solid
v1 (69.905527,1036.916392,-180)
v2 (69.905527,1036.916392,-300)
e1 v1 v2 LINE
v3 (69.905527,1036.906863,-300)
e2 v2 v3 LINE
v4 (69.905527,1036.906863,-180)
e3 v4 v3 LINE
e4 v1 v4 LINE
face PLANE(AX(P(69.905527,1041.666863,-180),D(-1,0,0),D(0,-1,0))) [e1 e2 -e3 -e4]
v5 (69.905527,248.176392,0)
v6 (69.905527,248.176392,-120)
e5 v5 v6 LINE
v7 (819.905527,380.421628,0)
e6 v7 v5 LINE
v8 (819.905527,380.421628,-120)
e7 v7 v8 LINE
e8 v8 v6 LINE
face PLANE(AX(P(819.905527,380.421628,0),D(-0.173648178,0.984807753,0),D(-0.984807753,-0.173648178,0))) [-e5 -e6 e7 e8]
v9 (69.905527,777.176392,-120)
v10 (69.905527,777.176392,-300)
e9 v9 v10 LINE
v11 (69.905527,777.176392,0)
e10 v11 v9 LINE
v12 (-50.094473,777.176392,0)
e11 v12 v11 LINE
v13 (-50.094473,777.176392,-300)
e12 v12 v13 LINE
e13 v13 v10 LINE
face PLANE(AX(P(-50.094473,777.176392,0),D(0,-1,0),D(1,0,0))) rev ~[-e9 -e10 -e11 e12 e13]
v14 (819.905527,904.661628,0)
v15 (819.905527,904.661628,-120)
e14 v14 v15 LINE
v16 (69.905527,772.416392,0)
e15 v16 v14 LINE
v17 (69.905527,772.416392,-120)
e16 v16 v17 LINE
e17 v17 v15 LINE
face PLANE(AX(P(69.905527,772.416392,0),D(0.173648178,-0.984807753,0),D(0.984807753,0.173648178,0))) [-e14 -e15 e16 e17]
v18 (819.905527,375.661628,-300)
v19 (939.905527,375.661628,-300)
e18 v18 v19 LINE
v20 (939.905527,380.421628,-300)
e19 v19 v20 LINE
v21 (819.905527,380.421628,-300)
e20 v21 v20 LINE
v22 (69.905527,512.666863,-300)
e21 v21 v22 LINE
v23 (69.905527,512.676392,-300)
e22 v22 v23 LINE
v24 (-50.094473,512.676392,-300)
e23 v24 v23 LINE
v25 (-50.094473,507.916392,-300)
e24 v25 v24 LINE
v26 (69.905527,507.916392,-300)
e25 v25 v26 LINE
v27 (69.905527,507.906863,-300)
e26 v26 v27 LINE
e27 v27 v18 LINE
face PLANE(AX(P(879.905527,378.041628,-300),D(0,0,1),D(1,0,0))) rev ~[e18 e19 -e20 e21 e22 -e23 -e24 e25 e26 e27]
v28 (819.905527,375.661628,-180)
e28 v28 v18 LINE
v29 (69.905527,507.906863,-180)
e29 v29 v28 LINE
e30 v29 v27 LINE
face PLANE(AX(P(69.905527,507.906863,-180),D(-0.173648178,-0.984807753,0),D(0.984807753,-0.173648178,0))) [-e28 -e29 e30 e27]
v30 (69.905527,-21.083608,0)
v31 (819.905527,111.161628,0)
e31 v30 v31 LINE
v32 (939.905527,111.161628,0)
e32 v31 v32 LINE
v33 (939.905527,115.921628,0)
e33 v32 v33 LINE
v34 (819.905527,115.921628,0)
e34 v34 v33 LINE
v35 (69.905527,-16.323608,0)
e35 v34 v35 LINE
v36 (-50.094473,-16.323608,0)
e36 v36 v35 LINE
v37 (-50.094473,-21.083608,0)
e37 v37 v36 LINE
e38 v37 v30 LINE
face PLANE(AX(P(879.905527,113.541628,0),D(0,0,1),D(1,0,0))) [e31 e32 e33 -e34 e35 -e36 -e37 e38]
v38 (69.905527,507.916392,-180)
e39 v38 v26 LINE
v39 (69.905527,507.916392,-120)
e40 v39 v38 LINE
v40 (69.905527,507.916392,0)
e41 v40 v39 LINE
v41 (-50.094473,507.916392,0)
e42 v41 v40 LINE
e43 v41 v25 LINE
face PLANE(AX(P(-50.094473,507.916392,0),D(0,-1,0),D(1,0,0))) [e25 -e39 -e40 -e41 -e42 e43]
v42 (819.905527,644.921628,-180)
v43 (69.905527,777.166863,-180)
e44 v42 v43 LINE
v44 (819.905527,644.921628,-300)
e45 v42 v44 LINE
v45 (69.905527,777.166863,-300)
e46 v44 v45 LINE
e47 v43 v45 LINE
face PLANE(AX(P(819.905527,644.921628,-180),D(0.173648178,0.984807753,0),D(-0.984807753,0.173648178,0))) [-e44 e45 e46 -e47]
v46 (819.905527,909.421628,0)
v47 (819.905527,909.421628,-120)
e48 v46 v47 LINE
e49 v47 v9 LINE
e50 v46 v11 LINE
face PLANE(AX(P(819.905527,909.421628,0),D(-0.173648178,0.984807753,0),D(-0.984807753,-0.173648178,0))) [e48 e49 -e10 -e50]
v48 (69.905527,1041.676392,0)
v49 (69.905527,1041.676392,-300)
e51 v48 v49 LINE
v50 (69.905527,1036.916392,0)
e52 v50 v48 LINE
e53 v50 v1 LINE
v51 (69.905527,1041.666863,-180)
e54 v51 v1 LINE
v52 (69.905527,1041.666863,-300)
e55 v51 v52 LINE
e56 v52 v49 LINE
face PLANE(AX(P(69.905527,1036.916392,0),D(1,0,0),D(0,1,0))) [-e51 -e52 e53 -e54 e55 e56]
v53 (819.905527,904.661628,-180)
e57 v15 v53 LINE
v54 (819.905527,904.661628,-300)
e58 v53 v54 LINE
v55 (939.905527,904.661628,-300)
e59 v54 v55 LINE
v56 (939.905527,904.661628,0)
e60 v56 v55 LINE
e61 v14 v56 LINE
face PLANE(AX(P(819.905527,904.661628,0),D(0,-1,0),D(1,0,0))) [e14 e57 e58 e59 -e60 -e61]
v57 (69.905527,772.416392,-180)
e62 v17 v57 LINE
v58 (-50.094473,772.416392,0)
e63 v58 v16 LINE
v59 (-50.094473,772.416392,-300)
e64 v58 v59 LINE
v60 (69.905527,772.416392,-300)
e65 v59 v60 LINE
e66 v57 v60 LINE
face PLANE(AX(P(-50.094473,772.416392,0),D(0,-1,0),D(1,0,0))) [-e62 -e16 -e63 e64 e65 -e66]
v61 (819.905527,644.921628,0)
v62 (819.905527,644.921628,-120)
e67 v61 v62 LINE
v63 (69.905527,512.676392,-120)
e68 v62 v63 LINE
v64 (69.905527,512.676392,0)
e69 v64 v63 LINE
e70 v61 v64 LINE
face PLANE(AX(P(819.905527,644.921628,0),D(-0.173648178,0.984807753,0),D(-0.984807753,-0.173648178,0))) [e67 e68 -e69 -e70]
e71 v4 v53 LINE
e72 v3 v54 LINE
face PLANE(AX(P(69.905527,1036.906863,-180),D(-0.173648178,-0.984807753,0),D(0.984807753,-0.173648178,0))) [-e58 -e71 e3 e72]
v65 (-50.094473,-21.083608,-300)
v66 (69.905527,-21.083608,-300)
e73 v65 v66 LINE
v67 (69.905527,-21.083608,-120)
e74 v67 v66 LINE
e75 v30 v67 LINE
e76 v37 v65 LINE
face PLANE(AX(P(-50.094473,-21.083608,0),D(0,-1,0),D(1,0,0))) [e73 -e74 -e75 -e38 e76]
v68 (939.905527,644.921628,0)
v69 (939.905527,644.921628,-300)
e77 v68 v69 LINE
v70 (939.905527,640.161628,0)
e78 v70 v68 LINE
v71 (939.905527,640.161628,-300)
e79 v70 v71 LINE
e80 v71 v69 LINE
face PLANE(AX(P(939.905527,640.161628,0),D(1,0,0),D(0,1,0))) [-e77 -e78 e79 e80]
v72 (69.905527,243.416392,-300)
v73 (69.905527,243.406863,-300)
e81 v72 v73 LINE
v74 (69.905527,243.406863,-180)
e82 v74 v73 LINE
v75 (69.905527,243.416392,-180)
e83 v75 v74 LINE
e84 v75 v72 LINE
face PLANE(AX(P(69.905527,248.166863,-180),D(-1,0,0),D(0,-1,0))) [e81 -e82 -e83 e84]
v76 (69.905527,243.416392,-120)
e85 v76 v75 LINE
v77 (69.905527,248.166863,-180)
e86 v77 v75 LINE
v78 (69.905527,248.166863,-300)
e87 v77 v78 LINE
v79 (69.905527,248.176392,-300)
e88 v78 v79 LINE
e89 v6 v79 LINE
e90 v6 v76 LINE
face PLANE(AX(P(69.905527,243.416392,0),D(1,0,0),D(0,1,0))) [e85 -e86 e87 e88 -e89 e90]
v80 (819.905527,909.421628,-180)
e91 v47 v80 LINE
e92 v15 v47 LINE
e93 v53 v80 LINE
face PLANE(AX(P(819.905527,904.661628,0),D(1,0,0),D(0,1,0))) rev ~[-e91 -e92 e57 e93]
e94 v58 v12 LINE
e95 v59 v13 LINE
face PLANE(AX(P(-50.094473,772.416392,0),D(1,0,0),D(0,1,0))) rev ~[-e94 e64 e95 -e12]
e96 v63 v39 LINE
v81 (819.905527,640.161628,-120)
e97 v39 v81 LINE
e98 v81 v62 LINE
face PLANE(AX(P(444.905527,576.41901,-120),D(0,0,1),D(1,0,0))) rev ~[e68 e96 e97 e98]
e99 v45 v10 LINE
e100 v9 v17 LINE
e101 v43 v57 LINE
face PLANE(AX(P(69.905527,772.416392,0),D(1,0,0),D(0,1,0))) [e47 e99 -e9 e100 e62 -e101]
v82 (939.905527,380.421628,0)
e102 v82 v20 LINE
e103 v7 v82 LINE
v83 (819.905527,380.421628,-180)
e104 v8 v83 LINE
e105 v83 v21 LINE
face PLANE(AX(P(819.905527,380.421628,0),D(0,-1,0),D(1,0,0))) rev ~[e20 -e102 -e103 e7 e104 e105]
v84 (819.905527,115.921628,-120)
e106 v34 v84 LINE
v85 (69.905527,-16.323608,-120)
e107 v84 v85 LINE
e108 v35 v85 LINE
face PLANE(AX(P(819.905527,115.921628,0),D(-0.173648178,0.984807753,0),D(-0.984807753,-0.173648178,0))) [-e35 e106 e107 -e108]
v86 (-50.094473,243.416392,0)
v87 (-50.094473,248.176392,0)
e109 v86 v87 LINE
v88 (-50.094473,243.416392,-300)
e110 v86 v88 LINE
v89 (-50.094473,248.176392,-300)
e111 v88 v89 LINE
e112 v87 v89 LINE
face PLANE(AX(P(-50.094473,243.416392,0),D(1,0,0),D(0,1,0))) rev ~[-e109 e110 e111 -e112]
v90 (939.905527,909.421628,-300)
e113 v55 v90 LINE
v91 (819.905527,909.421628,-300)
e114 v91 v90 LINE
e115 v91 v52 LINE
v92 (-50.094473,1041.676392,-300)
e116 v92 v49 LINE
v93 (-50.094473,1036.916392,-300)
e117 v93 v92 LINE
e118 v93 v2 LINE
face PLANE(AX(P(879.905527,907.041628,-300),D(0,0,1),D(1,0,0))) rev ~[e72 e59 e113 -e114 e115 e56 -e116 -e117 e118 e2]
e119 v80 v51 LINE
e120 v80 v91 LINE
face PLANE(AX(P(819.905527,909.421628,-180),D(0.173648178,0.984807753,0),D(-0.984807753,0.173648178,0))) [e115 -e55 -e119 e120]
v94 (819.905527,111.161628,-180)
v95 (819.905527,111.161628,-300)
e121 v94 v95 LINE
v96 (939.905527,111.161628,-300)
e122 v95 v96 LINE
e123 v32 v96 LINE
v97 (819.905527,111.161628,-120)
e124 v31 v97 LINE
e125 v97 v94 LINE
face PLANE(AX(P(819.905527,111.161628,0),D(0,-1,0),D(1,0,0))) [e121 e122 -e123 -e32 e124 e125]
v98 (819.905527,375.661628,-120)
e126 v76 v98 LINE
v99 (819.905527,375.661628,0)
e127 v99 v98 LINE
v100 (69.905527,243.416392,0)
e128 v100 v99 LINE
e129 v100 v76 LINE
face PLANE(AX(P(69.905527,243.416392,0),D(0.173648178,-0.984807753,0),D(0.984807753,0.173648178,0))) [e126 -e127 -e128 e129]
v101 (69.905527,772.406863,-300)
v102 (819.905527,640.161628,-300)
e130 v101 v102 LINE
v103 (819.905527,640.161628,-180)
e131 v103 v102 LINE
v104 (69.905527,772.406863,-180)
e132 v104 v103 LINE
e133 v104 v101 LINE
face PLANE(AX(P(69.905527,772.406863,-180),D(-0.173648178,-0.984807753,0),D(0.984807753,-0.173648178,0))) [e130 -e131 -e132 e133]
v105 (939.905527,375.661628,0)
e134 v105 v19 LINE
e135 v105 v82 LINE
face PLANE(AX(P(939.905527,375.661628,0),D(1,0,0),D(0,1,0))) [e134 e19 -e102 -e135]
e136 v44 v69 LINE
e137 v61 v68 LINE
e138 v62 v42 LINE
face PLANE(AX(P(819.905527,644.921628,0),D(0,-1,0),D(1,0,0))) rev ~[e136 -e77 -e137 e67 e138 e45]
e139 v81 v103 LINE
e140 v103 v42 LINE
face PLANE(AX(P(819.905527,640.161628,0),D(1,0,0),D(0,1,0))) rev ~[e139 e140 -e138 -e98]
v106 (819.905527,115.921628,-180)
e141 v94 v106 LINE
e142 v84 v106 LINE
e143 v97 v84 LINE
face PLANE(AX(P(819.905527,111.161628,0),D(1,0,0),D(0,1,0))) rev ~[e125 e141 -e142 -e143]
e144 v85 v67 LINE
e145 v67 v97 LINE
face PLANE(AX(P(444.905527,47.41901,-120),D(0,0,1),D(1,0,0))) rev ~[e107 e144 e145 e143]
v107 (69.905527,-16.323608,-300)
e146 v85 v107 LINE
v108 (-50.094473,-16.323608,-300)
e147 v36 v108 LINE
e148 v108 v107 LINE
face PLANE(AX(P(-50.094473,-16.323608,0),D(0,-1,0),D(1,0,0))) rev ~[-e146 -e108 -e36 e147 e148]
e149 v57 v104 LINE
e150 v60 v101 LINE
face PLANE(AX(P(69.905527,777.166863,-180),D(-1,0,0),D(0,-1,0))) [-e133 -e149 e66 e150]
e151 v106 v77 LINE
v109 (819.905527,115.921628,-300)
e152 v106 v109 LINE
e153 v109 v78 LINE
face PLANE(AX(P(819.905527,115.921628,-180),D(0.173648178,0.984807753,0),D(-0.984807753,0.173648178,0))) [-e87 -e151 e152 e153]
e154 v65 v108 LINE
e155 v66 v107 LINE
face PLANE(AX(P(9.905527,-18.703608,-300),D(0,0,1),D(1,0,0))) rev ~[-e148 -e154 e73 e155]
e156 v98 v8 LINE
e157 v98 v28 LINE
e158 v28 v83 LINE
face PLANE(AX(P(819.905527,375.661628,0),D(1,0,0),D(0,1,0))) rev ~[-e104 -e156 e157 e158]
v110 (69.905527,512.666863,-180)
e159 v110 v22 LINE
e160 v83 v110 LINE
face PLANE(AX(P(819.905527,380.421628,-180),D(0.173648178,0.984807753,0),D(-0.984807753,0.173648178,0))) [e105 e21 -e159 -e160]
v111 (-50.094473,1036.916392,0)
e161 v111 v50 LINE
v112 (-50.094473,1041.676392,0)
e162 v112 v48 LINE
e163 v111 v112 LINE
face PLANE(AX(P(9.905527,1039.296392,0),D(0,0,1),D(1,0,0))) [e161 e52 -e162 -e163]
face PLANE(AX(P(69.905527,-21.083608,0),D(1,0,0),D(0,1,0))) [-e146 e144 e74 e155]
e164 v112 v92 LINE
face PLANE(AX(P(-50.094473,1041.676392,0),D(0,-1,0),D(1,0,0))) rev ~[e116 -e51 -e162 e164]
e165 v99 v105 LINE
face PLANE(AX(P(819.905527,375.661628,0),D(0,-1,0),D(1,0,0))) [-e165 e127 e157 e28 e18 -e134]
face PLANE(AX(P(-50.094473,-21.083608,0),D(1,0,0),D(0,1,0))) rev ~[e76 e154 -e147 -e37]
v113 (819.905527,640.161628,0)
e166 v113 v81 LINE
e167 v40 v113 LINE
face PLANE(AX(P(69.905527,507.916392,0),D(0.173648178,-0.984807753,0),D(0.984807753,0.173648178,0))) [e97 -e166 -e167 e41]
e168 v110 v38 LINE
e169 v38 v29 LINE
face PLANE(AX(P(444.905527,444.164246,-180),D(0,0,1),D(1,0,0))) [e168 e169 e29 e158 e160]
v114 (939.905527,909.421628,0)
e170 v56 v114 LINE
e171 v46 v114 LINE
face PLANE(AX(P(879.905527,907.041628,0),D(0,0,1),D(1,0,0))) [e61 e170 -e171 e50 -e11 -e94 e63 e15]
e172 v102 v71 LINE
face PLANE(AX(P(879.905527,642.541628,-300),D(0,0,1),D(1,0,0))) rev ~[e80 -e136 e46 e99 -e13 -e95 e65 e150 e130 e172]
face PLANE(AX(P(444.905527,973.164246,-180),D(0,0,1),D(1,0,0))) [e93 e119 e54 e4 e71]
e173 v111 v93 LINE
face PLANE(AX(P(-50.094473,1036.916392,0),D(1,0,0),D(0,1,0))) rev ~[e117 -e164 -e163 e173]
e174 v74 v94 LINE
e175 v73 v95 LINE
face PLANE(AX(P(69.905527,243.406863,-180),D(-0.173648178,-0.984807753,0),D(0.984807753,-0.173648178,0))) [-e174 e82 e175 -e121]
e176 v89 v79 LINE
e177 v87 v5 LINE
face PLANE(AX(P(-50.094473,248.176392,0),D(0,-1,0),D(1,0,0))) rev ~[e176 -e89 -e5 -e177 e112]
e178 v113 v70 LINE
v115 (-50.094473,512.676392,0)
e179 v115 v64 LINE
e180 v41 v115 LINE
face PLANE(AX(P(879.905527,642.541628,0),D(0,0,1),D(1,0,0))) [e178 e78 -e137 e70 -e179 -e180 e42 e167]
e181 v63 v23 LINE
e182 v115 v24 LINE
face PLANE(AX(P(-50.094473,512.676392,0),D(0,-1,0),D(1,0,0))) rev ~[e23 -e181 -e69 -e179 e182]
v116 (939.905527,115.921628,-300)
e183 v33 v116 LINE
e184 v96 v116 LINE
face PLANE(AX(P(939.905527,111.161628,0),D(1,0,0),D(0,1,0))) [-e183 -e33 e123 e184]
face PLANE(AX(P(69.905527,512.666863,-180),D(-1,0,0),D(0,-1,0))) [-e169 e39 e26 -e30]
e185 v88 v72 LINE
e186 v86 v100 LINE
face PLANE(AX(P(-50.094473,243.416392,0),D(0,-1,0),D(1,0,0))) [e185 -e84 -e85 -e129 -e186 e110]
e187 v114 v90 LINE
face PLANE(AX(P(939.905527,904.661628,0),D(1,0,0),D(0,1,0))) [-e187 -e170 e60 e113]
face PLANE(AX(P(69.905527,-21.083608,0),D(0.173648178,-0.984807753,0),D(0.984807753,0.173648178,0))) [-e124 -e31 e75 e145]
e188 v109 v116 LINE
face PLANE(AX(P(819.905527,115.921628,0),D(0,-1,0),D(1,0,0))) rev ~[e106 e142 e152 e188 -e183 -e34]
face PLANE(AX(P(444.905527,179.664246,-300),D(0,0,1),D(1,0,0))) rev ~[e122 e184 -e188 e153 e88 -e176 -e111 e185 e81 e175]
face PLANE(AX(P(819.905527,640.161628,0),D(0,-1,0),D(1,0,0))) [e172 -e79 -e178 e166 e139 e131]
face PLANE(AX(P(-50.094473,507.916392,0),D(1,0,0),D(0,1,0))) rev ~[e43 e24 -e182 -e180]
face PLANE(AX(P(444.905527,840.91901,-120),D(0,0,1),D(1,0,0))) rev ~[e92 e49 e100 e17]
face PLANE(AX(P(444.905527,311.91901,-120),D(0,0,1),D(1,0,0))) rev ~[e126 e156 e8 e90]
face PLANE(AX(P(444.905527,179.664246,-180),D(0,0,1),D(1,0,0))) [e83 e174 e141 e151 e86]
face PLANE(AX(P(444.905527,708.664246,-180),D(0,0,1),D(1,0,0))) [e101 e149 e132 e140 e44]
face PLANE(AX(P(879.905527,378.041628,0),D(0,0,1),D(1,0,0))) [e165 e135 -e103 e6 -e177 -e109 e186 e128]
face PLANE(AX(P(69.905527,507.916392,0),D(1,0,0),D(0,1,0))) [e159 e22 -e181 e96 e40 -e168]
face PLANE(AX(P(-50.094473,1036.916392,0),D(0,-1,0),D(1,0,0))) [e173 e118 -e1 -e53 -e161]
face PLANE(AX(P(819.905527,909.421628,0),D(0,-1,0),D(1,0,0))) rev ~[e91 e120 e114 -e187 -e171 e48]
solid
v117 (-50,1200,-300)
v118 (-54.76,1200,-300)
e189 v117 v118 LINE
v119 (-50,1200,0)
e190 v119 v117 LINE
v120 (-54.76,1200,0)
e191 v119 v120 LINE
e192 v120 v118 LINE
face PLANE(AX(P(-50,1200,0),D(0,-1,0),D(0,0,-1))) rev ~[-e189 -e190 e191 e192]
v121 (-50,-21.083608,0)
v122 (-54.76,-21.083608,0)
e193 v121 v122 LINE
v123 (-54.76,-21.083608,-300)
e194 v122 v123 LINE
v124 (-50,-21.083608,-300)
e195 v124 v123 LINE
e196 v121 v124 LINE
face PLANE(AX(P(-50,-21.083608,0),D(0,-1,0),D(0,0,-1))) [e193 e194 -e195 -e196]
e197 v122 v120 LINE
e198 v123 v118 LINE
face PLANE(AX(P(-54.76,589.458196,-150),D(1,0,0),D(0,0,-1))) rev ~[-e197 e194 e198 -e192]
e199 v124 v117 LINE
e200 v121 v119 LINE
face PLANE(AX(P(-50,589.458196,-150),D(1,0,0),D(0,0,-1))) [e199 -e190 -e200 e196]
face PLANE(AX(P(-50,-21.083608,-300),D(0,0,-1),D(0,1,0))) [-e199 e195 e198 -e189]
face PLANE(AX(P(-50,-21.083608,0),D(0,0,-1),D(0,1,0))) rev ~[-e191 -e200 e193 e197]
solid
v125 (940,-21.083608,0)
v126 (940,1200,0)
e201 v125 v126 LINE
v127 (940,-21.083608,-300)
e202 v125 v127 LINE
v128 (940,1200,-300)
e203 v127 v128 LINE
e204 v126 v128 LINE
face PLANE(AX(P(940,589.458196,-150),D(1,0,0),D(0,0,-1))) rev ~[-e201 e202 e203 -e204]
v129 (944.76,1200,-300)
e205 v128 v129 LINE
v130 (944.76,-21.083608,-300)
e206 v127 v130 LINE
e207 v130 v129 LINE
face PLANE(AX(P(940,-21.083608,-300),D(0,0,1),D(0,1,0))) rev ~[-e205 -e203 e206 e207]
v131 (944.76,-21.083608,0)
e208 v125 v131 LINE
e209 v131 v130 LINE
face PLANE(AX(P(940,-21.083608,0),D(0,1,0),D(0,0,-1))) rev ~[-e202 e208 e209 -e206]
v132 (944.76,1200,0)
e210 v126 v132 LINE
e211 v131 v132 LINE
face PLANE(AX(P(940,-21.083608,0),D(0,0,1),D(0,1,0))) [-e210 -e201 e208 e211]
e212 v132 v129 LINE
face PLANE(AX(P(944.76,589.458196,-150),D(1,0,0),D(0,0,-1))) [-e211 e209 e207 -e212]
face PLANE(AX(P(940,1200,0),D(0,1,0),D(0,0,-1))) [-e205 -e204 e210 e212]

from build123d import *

# Parameters (mm, degrees)
SKETCH4_W             = 120
SKETCH4_H             = 4.76
BOSS_EXTRUDE6_DEPTH   = 300
BOSS_EXTRUDE6_2_DEPTH = 300
BOSS_EXTRUDE6_3_DEPTH = 300
BOSS_EXTRUDE6_4_DEPTH = 300
BOSS_EXTRUDE6_5_DEPTH = 300
BOSS_EXTRUDE6_6_DEPTH = 300
BOSS_EXTRUDE6_7_DEPTH = 300
BOSS_EXTRUDE6_8_DEPTH = 300
BOSS_EXTRUDE6_9_DEPTH = 300
BOSS_EXTRUDE7_DEPTH   = 120
BOSS_EXTRUDE8_START   = -180
BOSS_EXTRUDE8_DEPTH   = 120
BOSS_EXTRUDE10_START  = -50
SKETCH5_W             = 300
SKETCH5_H             = 1221.083607577
BOSS_EXTRUDE10_DEPTH  = 4.76
BOSS_EXTRUDE11_START  = 940
SKETCH5_3_W           = 300
SKETCH5_3_H           = 1221.083607577
BOSS_EXTRUDE11_DEPTH  = 4.76


with BuildPart() as part:
    # Sketch4 → Boss-Extrude6 (new body)
    with BuildSketch(Plane.XY):
        with Locations((9.905526623, -18.703607577)):
            Rectangle(SKETCH4_W, SKETCH4_H)
    extrude(amount=-BOSS_EXTRUDE6_DEPTH)



with BuildPart() as body_2:
    # Sketch4 → Boss-Extrude6 2 (new body)
    with BuildSketch(Plane.XY):
        with Locations((879.905526623, 113.541627954)):
            Rectangle(SKETCH4_W, SKETCH4_H)
    extrude(amount=-BOSS_EXTRUDE6_2_DEPTH)


with BuildPart() as body_3:
    # Sketch4 → Boss-Extrude6 3 (new body)
    with BuildSketch(Plane.XY):
        with Locations((9.905526623, 245.796392423)):
            Rectangle(SKETCH4_W, SKETCH4_H)
    extrude(amount=-BOSS_EXTRUDE6_3_DEPTH)


with BuildPart() as body_4:
    # Sketch4 → Boss-Extrude6 4 (new body)
    with BuildSketch(Plane.XY):
        with Locations((879.905526623, 378.041627954)):
            Rectangle(SKETCH4_W, SKETCH4_H)
    extrude(amount=-BOSS_EXTRUDE6_4_DEPTH)


with BuildPart() as body_5:
    # Sketch4 → Boss-Extrude6 5 (new body)
    with BuildSketch(Plane.XY):
        with Locations((9.905526623, 510.296392423)):
            Rectangle(SKETCH4_W, SKETCH4_H)
    extrude(amount=-BOSS_EXTRUDE6_5_DEPTH)


with BuildPart() as body_6:
    # Sketch4 → Boss-Extrude6 6 (new body)
    with BuildSketch(Plane.XY):
        with Locations((879.905526623, 642.541627954)):
            Rectangle(SKETCH4_W, SKETCH4_H)
    extrude(amount=-BOSS_EXTRUDE6_6_DEPTH)


with BuildPart() as body_7:
    # Sketch4 → Boss-Extrude6 7 (new body)
    with BuildSketch(Plane.XY):
        with Locations((9.905526623, 774.796392423)):
            Rectangle(SKETCH4_W, SKETCH4_H)
    extrude(amount=-BOSS_EXTRUDE6_7_DEPTH)


with BuildPart() as body_8:
    # Sketch4 → Boss-Extrude6 8 (new body)
    with BuildSketch(Plane.XY):
        with Locations((879.905526623, 907.041627954)):
            Rectangle(SKETCH4_W, SKETCH4_H)
    extrude(amount=-BOSS_EXTRUDE6_8_DEPTH)


with BuildPart() as body_9:
    # Sketch4 → Boss-Extrude6 9 (new body)
    with BuildSketch(Plane.XY):
        with Locations((9.905526623, 1039.296392423)):
            Rectangle(SKETCH4_W, SKETCH4_H)
    extrude(amount=-BOSS_EXTRUDE6_9_DEPTH)


with BuildPart() as part_1:
    add(part.part)

    add(body_3.part)  # Boss-Extrude7 merges body 3

    add(body_5.part)  # Boss-Extrude7 merges body 5

    add(body_7.part)  # Boss-Extrude7 merges body 7
    # Sketch4<3> → Boss-Extrude7 (add)
    with BuildSketch(Plane.XY):
        Polygon((69.905526623, -16.323607577), (69.905526623, -21.083607577), (819.905526623, 111.161627954), (819.905526623, 115.921627954), align=None)
        Polygon((69.905526623, 248.176392423), (69.905526623, 243.416392423), (819.905526623, 375.661627954), (819.905526623, 380.421627954), align=None)
        Polygon((69.905526623, 507.916392423), (819.905526623, 640.161627954), (819.905526623, 644.921627954), (69.905526623, 512.676392423), align=None)
        Polygon((69.905526623, 772.416392423), (819.905526623, 904.661627954), (819.905526623, 909.421627954), (69.905526623, 777.176392423), align=None)
    extrude(amount=-BOSS_EXTRUDE7_DEPTH)


    add(body_2.part)  # Boss-Extrude8 merges body 2

    add(body_4.part)  # Boss-Extrude8 merges body 4

    add(body_6.part)  # Boss-Extrude8 merges body 6

    add(body_8.part)  # Boss-Extrude8 merges body 8

    add(body_9.part)  # Boss-Extrude8 merges body 9
    # Sketch4<4> → Boss-Extrude8 (add)
    with BuildSketch(Plane.XY.offset(BOSS_EXTRUDE8_START)):
        Polygon((819.905526623, 111.161627954), (819.905526623, 115.921627954), (69.905526623, 248.166863486), (69.905526623, 243.406863486), align=None)
        Polygon((819.905526623, 375.661627954), (819.905526623, 380.421627954), (69.905526623, 512.666863486), (69.905526623, 507.906863486), align=None)
        Polygon((819.905526623, 640.161627954), (819.905526623, 644.921627954), (69.905526623, 777.166863486), (69.905526623, 772.406863486), align=None)
        Polygon((819.905526623, 904.661627954), (819.905526623, 909.421627954), (69.905526623, 1041.666863486), (69.905526623, 1036.906863486), align=None)
    extrude(amount=-BOSS_EXTRUDE8_DEPTH)


with BuildPart() as body_2_2:
    # Sketch5 → Boss-Extrude10 (new body)
    with BuildSketch(Plane(origin=(0, 0, 0), x_dir=(0, 0, -1), z_dir=(1, 0, 0)).offset(BOSS_EXTRUDE10_START)):
        with Locations((150, 589.458196211)):
            Rectangle(SKETCH5_W, SKETCH5_H)
    extrude(amount=-BOSS_EXTRUDE10_DEPTH)


with BuildPart() as body_3_2:
    # Sketch5<3> → Boss-Extrude11 (new body)
    with BuildSketch(Plane(origin=(0, 0, 0), x_dir=(0, 0, -1), z_dir=(1, 0, 0)).offset(BOSS_EXTRUDE11_START)):
        with Locations((150, 589.458196211)):
            Rectangle(SKETCH5_3_W, SKETCH5_3_H)
    extrude(amount=BOSS_EXTRUDE11_DEPTH)


solid = Compound([part_1.part, body_2_2.part, body_3_2.part])
